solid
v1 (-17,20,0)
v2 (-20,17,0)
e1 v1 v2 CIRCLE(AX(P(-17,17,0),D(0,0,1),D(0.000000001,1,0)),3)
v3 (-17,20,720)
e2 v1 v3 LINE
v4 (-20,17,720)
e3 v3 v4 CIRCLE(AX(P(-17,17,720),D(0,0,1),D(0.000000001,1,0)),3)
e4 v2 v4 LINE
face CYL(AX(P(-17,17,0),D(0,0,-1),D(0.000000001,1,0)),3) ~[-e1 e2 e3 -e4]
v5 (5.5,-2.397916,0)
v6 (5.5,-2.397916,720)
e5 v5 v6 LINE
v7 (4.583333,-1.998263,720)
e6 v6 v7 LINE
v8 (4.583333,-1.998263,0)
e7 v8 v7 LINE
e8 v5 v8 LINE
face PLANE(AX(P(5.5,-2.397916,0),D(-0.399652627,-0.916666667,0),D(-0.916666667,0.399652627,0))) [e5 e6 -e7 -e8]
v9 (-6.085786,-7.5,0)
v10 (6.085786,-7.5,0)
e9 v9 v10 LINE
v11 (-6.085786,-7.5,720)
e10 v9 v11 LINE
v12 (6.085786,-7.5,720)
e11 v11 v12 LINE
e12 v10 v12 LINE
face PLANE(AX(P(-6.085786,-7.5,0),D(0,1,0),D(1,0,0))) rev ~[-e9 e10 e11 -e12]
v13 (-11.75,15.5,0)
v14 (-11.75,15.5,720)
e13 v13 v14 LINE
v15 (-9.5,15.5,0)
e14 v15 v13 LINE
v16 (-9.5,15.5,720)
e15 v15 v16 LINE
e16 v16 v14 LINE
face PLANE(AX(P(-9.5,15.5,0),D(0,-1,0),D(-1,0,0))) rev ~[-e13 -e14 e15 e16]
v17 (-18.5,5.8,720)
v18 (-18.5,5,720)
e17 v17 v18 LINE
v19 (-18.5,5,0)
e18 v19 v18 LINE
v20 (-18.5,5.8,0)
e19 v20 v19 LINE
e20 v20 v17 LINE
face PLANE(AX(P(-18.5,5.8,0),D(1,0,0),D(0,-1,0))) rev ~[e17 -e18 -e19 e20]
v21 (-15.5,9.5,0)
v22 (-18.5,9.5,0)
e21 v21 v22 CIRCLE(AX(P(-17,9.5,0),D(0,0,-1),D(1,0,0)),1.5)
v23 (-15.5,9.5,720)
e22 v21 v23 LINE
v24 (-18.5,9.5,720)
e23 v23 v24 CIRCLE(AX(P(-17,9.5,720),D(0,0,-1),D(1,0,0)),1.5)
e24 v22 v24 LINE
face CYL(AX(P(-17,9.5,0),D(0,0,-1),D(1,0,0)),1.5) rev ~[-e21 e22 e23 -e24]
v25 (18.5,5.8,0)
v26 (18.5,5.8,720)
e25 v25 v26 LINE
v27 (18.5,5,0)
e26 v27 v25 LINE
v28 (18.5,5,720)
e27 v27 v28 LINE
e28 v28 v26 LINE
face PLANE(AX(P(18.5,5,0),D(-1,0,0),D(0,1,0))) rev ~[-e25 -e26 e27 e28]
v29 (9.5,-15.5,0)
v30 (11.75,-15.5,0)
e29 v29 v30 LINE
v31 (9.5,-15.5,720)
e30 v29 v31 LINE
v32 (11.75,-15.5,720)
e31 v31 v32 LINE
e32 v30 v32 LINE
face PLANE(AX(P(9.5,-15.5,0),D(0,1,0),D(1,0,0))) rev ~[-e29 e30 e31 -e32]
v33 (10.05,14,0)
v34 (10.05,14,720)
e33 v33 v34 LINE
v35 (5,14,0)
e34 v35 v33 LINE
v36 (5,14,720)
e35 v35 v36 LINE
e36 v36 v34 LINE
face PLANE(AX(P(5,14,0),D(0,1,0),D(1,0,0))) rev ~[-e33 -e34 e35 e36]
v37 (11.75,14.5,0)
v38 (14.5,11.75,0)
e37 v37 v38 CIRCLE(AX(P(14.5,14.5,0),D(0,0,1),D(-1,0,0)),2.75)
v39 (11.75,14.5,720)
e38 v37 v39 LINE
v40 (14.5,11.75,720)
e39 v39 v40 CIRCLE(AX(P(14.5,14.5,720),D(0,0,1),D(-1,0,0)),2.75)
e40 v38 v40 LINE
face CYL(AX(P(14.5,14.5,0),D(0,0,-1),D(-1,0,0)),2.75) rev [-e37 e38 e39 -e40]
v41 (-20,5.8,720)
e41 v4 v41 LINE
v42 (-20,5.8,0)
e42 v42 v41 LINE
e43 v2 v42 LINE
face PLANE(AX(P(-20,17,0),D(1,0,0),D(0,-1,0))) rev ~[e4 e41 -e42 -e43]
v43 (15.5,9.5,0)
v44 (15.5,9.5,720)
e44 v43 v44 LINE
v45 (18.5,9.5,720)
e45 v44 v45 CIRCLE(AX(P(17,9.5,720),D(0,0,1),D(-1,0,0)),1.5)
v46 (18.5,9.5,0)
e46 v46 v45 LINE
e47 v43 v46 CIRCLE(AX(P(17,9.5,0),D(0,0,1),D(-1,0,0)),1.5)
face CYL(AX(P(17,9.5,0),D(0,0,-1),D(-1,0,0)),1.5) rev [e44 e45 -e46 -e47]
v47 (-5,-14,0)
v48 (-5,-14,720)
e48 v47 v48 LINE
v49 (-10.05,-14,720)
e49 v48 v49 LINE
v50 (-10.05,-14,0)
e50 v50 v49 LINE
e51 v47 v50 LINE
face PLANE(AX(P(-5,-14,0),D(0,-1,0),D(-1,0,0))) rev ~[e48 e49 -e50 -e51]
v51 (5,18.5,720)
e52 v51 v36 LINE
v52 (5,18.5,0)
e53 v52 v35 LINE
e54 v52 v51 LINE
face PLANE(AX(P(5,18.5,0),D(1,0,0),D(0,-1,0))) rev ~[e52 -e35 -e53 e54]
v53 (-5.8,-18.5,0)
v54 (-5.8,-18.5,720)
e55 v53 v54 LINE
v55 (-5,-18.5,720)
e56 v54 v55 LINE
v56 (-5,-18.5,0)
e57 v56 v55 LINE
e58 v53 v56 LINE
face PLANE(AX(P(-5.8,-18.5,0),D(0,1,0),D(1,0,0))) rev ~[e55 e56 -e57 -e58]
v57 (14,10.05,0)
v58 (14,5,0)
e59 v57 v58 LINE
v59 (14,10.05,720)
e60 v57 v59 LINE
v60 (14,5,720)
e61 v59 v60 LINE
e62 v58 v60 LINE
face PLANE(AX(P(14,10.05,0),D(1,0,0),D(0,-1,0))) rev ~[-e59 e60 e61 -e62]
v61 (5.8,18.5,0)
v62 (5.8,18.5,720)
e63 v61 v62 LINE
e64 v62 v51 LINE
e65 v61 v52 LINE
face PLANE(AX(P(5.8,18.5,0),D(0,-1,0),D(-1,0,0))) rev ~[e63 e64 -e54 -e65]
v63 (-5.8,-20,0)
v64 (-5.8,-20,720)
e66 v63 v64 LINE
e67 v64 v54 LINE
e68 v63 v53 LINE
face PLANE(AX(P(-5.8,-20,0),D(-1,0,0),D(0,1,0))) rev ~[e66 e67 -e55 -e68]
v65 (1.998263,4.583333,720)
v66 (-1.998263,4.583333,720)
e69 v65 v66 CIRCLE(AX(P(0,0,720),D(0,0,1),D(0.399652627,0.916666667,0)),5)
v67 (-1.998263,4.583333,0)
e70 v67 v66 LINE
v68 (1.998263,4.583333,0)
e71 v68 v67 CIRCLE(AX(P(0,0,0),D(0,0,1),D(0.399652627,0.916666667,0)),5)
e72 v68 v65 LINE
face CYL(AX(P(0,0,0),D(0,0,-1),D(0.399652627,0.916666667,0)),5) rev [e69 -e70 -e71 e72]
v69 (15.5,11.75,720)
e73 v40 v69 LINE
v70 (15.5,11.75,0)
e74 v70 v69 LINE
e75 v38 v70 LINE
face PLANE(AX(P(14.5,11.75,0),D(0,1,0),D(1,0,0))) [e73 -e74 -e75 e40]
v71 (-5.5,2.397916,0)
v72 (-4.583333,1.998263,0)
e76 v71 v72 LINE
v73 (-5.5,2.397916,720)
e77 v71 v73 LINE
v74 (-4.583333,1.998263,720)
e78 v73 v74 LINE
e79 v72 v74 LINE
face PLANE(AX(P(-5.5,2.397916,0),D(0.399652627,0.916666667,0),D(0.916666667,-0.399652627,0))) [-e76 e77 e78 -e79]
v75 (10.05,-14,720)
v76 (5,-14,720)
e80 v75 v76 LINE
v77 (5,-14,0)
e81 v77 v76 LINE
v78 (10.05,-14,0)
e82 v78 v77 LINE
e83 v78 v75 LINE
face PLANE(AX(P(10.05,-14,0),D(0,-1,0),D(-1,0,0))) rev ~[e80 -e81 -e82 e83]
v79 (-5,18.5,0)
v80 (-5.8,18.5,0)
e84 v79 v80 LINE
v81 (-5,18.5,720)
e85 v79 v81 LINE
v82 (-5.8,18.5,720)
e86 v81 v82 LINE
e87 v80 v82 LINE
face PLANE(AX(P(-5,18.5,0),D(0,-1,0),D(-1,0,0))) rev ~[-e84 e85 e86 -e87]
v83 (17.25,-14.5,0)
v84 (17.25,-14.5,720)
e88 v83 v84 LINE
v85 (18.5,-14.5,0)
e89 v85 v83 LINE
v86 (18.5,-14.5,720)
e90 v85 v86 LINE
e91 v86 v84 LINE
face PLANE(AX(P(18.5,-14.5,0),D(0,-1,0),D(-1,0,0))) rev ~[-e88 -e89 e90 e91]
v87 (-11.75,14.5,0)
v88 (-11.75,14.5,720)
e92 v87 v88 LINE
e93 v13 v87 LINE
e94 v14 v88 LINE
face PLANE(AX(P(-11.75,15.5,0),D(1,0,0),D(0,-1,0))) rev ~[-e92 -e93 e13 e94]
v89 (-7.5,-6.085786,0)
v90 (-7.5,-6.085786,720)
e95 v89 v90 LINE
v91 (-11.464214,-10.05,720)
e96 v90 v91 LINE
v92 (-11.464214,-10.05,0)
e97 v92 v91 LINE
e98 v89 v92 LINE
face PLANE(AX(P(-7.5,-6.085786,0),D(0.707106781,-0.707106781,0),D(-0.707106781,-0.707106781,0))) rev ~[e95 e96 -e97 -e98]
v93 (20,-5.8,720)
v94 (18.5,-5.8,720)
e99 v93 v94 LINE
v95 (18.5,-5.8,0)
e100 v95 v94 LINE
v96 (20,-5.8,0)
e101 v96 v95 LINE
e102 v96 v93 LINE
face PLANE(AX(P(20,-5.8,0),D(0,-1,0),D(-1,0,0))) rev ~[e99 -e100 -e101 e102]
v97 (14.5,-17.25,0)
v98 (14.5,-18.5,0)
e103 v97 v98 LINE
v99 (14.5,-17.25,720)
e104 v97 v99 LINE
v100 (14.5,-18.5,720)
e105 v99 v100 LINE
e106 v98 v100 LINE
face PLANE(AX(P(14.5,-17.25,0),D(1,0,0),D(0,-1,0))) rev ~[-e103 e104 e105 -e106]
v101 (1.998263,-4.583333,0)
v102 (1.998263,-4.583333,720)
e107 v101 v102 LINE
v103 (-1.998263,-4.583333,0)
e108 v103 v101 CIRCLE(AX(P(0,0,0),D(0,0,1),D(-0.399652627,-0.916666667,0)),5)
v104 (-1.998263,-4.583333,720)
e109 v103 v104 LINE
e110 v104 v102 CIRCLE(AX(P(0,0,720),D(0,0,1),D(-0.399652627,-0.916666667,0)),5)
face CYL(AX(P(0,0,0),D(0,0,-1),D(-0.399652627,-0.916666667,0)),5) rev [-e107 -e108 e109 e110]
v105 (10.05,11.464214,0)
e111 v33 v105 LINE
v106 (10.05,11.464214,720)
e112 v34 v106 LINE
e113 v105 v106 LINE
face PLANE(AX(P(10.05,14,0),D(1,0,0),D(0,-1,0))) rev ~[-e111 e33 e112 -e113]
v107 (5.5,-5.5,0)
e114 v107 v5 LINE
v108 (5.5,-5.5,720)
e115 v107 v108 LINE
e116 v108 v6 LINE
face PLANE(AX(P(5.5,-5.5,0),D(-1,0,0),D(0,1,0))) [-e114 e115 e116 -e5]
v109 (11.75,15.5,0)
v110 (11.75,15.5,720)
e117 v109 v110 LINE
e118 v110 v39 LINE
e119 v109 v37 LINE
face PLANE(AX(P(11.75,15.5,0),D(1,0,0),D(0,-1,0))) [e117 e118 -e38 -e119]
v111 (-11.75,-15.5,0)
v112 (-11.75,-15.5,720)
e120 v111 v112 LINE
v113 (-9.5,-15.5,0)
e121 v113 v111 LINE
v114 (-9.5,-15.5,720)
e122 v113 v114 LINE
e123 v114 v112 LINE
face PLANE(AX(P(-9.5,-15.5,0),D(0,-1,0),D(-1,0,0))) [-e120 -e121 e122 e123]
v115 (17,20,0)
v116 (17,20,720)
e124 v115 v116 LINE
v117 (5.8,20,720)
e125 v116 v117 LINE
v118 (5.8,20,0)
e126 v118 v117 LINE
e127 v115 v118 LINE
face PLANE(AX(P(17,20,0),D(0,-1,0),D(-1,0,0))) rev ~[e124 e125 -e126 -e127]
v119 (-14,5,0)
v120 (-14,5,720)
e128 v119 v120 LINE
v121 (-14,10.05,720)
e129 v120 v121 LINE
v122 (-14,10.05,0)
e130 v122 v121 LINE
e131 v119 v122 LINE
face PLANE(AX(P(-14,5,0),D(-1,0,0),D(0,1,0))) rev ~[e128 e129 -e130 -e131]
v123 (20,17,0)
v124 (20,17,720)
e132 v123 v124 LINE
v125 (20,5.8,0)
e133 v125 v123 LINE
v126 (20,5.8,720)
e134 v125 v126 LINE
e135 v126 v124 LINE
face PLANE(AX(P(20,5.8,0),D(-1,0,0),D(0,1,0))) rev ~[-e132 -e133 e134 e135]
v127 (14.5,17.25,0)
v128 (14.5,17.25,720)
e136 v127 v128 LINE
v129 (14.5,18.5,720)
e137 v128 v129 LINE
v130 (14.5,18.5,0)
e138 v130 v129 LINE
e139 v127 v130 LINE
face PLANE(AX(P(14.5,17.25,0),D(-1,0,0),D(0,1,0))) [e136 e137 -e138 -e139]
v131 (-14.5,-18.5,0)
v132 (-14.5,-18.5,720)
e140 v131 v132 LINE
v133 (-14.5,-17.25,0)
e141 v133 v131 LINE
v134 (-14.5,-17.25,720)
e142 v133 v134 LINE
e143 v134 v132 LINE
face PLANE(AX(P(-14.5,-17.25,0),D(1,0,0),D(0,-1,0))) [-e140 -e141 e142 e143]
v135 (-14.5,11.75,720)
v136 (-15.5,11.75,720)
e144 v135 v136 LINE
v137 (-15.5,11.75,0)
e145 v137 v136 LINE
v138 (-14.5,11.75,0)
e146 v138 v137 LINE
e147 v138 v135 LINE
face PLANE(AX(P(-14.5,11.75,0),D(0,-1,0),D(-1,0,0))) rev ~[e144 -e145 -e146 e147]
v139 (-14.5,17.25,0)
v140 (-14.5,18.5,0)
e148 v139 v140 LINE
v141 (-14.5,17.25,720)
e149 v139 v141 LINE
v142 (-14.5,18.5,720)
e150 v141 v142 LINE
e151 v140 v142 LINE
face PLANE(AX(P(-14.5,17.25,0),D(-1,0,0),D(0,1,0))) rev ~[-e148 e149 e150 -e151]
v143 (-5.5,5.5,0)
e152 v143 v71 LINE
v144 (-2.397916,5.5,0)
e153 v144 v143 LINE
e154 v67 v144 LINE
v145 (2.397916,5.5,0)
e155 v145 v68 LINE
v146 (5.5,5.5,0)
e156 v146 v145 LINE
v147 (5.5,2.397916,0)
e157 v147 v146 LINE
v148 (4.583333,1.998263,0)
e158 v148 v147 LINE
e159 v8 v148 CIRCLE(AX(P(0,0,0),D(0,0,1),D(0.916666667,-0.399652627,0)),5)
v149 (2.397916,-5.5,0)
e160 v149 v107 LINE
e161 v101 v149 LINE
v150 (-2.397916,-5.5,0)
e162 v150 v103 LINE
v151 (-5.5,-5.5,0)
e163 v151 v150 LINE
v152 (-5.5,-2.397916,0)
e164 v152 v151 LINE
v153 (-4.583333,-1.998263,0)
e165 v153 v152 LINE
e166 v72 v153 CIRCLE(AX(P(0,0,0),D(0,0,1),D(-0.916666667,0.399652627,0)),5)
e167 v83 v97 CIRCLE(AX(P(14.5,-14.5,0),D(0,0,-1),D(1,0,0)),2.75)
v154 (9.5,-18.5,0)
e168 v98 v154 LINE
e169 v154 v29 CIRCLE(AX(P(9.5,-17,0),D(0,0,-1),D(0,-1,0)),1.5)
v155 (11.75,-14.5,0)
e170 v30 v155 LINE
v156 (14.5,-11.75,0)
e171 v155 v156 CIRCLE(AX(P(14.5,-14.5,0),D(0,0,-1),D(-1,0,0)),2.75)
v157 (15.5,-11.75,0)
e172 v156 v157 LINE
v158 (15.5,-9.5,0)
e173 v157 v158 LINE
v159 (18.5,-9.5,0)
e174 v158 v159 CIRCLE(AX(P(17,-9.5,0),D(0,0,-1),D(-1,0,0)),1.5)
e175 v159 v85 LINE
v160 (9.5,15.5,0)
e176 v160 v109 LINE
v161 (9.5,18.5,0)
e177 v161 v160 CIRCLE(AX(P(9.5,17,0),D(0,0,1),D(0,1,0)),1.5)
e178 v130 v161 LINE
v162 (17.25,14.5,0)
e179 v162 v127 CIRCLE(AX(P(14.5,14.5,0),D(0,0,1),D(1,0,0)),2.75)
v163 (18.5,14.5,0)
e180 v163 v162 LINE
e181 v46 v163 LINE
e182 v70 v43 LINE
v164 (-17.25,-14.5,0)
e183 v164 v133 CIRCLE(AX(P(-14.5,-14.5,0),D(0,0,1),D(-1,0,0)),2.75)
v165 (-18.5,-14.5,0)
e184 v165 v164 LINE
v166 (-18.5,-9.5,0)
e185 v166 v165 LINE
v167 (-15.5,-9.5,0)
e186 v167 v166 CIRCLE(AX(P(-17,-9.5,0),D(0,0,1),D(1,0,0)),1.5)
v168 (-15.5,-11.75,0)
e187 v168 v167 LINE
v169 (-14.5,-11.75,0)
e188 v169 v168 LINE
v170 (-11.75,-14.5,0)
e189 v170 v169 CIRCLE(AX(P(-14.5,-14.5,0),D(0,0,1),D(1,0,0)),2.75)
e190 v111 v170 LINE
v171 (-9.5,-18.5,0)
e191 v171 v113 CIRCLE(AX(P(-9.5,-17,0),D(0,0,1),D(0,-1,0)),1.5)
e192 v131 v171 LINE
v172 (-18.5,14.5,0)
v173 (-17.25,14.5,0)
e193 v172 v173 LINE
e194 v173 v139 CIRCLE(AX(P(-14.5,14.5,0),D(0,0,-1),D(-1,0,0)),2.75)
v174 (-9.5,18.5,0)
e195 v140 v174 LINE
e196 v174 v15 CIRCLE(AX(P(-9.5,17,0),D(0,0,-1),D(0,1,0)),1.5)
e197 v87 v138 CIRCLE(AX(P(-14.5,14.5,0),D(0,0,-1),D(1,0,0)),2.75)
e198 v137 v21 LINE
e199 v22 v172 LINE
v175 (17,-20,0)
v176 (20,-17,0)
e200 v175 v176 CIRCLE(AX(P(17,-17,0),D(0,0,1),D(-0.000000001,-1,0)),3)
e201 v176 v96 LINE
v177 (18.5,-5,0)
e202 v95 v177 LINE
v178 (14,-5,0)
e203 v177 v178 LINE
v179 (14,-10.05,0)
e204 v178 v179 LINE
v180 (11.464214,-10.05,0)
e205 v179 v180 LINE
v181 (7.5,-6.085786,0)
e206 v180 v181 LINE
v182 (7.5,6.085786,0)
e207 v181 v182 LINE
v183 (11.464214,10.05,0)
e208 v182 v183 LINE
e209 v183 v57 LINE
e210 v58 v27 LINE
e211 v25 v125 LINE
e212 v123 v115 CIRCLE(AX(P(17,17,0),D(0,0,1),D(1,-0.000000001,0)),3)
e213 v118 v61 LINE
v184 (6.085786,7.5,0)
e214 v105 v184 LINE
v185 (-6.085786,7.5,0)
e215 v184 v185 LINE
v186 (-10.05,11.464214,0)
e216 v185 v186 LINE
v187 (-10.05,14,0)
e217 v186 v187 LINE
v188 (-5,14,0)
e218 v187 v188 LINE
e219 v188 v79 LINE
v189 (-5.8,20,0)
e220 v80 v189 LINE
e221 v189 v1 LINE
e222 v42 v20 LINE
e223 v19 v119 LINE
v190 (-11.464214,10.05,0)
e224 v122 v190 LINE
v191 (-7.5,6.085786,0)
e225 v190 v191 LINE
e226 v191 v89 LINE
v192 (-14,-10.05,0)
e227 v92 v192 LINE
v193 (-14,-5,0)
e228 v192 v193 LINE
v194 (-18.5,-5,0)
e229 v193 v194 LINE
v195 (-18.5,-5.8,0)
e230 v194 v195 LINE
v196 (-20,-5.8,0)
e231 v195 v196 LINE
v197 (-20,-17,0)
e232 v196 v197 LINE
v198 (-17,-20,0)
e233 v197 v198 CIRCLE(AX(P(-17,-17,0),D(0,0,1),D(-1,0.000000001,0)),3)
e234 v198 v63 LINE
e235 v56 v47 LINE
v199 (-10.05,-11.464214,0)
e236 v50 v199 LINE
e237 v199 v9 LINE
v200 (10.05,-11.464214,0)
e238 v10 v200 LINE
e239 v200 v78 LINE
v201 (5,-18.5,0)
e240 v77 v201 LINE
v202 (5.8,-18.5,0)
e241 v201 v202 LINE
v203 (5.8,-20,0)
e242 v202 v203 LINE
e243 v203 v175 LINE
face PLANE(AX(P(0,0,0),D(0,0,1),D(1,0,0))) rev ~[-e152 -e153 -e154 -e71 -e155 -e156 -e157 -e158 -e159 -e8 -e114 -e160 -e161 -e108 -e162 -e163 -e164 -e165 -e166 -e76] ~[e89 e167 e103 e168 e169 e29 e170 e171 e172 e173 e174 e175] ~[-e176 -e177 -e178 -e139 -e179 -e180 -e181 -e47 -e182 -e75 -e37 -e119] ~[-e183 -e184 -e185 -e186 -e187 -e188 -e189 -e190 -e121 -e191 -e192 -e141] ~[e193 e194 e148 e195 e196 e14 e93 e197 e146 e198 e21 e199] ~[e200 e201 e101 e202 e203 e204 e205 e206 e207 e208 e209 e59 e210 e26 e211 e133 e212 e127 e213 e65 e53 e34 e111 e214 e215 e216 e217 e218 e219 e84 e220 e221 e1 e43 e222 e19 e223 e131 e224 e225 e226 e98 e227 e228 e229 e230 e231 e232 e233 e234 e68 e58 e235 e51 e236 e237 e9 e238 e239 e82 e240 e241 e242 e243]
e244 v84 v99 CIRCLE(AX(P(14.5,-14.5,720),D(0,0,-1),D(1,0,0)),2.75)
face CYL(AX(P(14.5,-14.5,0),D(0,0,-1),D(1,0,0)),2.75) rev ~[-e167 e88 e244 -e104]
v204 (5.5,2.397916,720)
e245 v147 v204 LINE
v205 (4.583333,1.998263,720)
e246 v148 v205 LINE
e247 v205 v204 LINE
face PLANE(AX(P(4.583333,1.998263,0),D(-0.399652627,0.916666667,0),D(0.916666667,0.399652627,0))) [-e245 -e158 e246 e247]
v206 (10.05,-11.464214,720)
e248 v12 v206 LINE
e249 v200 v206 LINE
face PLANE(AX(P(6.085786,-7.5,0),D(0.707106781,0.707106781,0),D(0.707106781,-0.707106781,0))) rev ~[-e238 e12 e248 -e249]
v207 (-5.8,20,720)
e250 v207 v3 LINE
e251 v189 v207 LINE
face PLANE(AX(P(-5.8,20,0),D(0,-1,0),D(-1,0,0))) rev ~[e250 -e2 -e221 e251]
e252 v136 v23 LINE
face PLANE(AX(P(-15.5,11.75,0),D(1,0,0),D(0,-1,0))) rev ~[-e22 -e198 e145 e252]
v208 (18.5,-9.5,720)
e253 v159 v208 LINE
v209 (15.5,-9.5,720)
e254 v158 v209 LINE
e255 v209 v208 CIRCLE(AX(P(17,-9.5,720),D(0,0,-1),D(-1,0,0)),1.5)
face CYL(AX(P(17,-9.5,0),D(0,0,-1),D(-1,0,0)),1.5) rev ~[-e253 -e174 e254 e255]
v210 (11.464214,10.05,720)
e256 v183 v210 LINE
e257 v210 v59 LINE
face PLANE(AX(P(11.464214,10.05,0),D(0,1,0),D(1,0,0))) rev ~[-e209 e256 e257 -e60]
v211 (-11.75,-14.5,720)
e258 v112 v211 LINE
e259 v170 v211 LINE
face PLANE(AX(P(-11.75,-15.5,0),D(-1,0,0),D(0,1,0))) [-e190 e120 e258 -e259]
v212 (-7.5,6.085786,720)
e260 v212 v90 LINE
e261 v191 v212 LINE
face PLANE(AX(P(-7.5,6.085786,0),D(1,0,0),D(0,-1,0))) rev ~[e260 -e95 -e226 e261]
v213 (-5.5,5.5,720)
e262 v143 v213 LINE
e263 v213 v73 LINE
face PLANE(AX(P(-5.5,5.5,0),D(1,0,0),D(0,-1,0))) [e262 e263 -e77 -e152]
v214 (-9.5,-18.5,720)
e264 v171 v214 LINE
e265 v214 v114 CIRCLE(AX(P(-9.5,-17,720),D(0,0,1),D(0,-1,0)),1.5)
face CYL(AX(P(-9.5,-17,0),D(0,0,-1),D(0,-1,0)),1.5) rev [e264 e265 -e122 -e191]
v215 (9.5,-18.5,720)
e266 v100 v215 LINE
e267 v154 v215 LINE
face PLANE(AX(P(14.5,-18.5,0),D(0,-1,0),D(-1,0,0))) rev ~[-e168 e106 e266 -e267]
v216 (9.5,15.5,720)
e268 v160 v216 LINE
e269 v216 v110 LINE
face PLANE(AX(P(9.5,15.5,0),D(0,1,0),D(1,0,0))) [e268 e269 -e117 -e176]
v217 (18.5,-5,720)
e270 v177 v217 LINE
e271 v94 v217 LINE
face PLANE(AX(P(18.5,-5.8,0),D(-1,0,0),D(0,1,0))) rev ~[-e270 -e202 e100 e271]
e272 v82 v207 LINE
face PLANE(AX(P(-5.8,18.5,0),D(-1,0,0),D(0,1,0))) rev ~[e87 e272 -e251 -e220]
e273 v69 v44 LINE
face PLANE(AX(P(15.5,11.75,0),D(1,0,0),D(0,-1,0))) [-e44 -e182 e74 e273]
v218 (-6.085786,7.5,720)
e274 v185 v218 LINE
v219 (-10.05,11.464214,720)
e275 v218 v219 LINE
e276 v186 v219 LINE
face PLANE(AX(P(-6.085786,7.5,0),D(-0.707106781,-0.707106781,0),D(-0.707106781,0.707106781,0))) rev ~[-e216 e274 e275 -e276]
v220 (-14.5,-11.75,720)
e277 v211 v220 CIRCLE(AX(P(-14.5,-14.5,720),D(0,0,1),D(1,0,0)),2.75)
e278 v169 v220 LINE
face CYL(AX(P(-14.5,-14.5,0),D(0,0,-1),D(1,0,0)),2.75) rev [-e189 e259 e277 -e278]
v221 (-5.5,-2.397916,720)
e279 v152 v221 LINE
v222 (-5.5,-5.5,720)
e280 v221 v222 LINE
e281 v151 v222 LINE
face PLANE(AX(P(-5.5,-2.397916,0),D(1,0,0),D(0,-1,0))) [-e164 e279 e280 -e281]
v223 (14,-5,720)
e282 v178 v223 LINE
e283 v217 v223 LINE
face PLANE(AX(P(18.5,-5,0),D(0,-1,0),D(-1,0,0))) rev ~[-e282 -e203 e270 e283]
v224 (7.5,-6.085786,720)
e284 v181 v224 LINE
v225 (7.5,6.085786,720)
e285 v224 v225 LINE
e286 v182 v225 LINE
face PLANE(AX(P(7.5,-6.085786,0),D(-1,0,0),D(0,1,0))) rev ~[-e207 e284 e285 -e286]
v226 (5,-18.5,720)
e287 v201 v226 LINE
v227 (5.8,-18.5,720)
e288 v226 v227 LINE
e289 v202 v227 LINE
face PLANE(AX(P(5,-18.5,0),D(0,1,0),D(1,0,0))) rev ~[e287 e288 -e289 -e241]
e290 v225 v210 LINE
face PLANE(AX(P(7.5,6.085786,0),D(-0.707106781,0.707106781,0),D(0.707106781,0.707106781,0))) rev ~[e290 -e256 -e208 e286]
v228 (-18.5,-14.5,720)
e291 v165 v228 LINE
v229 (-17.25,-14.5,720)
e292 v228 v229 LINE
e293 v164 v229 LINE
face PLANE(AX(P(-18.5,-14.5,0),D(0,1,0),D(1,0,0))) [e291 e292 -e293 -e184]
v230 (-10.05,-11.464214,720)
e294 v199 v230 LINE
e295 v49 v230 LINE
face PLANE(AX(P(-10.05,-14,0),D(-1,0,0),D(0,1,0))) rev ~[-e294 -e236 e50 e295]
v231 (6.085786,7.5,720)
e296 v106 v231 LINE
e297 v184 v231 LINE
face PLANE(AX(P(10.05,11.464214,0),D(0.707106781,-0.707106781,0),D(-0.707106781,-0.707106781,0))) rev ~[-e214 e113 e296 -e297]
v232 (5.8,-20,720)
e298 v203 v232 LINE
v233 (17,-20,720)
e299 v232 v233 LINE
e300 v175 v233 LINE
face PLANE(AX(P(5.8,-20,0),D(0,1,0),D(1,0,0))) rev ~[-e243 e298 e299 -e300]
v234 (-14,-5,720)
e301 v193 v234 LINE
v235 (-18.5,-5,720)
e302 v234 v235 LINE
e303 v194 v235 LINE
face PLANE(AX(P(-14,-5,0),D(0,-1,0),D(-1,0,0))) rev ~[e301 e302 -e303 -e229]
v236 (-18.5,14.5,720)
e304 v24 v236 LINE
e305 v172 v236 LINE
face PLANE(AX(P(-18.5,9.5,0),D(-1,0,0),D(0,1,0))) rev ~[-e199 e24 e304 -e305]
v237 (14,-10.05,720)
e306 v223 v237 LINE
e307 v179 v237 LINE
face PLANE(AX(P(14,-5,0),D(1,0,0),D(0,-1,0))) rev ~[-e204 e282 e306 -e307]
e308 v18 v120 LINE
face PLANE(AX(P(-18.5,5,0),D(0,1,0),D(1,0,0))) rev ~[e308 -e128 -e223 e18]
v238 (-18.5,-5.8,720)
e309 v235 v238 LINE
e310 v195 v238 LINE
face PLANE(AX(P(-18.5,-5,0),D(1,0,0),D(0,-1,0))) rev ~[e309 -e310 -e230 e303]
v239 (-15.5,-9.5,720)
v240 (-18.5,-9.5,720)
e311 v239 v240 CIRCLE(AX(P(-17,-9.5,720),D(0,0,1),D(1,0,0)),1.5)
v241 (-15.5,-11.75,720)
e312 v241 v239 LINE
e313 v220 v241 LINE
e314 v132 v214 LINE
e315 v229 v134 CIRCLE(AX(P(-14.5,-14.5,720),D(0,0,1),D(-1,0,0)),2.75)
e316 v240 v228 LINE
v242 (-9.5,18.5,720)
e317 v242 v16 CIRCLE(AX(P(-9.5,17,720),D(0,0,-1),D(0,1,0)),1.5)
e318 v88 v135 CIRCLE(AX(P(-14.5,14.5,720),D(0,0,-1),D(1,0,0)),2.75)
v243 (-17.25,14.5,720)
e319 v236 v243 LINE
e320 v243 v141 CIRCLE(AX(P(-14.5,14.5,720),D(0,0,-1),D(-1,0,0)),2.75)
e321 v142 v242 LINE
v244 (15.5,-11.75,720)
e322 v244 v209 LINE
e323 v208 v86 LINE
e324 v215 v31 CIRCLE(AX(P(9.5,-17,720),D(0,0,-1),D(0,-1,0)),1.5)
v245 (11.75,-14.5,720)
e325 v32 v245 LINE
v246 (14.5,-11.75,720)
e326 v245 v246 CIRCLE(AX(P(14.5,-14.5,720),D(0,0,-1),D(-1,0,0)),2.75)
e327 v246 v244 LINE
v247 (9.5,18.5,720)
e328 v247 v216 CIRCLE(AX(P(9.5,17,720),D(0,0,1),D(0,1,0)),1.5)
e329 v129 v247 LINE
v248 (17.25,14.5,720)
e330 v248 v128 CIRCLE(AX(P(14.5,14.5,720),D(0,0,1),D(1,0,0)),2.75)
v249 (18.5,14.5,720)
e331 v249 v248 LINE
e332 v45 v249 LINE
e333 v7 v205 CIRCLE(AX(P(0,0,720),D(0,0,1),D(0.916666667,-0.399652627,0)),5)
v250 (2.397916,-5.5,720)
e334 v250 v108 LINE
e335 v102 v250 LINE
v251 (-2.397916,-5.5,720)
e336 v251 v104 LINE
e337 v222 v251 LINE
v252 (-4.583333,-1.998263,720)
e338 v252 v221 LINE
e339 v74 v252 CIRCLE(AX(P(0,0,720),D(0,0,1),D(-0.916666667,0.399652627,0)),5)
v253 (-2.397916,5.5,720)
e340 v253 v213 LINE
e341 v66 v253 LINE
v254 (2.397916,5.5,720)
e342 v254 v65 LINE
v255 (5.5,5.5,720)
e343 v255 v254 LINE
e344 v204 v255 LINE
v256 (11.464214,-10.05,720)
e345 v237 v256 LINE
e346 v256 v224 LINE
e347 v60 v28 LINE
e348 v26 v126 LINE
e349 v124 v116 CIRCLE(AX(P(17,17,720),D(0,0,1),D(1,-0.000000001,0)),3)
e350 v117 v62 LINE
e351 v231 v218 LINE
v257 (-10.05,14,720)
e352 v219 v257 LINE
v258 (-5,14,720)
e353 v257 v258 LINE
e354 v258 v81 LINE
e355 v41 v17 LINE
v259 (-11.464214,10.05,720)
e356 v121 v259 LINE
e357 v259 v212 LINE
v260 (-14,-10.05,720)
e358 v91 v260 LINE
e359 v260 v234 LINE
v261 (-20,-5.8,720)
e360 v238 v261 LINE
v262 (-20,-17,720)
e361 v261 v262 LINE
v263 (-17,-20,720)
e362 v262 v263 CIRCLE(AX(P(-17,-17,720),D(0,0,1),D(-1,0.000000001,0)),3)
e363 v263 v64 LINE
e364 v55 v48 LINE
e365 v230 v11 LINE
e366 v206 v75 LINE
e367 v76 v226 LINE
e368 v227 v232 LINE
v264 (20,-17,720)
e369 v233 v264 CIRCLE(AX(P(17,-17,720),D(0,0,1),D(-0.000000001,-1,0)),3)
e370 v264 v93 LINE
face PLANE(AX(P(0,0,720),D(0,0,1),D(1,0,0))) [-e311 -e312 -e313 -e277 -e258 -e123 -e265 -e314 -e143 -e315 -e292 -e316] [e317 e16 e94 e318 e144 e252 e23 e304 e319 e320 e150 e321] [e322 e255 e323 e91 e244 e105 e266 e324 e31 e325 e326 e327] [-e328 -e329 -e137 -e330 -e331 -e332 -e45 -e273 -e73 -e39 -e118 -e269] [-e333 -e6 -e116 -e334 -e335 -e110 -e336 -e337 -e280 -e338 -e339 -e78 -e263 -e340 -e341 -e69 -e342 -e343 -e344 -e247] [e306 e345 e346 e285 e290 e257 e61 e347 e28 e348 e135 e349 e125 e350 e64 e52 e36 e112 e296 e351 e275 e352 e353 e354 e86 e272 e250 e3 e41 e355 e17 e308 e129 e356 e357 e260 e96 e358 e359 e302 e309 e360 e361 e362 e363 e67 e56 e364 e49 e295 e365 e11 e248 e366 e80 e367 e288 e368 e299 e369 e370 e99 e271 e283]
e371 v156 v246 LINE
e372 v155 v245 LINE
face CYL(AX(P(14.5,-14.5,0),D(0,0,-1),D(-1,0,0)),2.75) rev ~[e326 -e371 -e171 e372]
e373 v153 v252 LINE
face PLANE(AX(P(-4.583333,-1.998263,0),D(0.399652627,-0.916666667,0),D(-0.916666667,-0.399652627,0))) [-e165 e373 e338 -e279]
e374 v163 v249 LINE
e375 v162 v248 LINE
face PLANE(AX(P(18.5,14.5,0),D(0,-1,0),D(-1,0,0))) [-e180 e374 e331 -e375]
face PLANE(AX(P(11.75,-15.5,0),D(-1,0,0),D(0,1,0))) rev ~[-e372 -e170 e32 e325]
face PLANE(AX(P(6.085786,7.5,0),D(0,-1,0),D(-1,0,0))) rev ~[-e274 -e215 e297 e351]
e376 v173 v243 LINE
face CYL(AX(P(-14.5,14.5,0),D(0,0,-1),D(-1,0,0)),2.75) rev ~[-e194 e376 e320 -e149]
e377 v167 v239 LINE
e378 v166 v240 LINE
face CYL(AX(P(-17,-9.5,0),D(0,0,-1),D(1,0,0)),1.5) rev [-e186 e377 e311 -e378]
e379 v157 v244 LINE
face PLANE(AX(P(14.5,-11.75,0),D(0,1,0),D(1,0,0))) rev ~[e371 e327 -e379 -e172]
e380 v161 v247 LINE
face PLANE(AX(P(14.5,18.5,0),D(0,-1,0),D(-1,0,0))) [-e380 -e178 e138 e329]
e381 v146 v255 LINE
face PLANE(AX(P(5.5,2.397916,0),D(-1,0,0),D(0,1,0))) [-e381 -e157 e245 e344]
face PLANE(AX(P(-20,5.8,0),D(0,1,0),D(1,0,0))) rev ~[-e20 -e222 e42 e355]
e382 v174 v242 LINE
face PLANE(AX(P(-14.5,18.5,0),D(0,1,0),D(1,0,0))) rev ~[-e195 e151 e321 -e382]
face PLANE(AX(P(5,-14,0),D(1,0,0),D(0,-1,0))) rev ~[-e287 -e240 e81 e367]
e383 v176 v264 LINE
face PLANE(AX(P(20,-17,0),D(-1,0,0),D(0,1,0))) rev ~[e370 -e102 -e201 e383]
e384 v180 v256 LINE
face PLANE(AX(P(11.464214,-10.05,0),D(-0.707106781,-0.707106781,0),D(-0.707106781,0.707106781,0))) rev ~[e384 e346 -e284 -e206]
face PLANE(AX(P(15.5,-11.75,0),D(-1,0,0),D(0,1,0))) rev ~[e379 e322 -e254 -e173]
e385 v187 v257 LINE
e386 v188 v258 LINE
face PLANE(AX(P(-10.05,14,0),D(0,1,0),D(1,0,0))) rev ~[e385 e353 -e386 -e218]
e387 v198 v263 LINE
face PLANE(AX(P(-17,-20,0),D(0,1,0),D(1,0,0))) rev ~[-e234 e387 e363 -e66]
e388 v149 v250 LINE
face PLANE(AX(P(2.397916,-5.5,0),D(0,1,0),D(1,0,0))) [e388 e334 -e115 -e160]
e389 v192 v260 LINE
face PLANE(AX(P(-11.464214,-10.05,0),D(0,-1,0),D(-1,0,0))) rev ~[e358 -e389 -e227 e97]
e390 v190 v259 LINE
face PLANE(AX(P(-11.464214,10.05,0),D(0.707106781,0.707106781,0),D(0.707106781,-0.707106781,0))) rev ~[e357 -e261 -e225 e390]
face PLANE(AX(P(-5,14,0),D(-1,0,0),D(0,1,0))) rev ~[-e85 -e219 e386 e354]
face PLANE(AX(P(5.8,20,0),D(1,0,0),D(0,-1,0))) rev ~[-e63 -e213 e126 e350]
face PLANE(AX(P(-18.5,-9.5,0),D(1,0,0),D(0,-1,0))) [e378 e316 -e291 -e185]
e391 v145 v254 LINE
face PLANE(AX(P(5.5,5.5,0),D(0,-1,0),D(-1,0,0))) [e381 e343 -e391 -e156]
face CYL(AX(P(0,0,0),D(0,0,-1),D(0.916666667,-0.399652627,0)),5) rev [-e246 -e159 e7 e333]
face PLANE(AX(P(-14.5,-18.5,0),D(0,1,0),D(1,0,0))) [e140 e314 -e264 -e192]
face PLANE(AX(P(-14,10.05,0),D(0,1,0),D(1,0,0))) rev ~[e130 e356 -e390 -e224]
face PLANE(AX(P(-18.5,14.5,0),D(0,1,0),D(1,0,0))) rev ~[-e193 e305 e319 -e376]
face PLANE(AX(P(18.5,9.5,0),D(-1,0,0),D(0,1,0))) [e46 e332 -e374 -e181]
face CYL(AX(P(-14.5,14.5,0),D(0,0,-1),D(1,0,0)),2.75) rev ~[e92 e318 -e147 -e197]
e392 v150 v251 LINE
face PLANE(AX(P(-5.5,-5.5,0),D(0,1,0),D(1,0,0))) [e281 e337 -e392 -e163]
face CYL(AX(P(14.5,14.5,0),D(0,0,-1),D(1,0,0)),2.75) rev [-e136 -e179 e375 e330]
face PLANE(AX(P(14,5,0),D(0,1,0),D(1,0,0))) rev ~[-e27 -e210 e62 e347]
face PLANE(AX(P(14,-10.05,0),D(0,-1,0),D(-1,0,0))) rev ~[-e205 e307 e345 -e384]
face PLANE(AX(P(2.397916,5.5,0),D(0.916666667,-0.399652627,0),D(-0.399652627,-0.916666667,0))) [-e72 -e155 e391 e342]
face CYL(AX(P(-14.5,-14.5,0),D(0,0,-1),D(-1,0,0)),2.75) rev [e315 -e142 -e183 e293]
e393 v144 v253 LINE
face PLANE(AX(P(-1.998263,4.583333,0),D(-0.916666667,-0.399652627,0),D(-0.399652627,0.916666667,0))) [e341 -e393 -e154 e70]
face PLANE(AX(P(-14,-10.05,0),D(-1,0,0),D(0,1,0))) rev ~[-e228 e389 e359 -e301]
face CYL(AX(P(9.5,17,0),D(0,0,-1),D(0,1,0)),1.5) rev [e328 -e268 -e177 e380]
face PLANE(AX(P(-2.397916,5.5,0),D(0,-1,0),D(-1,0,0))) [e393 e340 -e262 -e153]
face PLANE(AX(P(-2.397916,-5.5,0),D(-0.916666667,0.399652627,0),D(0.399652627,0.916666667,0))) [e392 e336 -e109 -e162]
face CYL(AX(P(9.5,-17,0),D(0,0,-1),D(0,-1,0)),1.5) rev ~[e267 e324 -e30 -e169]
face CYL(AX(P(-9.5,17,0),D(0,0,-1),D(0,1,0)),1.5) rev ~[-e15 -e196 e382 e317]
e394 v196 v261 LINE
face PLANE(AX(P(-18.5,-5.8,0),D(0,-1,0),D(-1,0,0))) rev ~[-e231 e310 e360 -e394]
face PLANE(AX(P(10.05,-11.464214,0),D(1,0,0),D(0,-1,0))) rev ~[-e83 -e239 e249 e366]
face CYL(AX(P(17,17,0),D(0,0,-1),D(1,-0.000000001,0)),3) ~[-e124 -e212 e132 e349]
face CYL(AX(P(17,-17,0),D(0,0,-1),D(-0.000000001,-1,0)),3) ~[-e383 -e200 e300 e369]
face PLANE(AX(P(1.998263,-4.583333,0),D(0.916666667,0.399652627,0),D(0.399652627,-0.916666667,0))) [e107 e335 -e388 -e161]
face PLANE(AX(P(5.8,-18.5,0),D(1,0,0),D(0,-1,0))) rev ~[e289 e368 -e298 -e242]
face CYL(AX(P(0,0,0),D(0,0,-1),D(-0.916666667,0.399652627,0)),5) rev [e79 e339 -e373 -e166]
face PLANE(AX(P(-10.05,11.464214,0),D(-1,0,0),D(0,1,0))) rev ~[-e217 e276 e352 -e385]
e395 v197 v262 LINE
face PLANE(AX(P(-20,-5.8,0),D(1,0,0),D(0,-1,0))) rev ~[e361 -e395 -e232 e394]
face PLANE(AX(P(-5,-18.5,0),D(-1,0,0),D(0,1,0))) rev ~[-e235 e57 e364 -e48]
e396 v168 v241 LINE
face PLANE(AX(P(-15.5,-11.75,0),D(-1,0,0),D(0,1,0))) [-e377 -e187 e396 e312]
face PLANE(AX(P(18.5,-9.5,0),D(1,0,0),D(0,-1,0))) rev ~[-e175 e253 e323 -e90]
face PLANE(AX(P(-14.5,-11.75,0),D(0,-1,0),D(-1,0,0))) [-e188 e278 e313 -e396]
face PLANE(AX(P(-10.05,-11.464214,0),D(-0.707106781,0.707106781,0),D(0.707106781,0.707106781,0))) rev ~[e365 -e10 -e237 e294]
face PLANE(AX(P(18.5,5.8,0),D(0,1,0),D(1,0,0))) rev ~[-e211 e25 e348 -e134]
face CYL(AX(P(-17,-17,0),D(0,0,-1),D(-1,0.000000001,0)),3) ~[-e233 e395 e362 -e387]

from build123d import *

# Parameters (mm, degrees)
EXTRUDE1_DEPTH = 720


with BuildPart() as part:
    # Sketch1 → Extrude1 (new body)
    with BuildSketch(Plane.XY):
        with BuildLine():
            Line((5.8, -20), (17, -20))
            ThreePointArc((17, -20), (19.121320344, -19.121320344), (20, -17))
            Line((20, -17), (20, -5.8))
            Line((20, -5.8), (18.5, -5.8))
            Line((18.5, -5.8), (18.5, -5))
            Line((18.5, -5), (14, -5))
            Line((14, -5), (14, -10.05))
            Line((14, -10.05), (11.464213562, -10.05))
            Line((11.464213562, -10.05), (7.5, -6.085786438))
            Line((7.5, -6.085786438), (7.5, 6.085786438))
            Line((7.5, 6.085786438), (11.464213562, 10.05))
            Line((11.464213562, 10.05), (14, 10.05))
            Line((14, 10.05), (14, 5))
            Line((14, 5), (18.5, 5))
            Line((18.5, 5), (18.5, 5.8))
            Line((18.5, 5.8), (20, 5.8))
            Line((20, 5.8), (20, 17))
            ThreePointArc((20, 17), (19.121320344, 19.121320344), (17, 20))
            Line((17, 20), (5.8, 20))
            Line((5.8, 20), (5.8, 18.5))
            Line((5.8, 18.5), (5, 18.5))
            Line((5, 18.5), (5, 14))
            Line((5, 14), (10.05, 14))
            Line((10.05, 14), (10.05, 11.464213562))
            Line((10.05, 11.464213562), (6.085786438, 7.5))
            Line((6.085786438, 7.5), (-6.085786438, 7.5))
            Line((-6.085786438, 7.5), (-10.05, 11.464213562))
            Line((-10.05, 11.464213562), (-10.05, 14))
            Line((-10.05, 14), (-5, 14))
            Line((-5, 14), (-5, 18.5))
            Line((-5, 18.5), (-5.8, 18.5))
            Line((-5.8, 18.5), (-5.8, 20))
            Line((-5.8, 20), (-17, 20))
            ThreePointArc((-17, 20), (-19.121320344, 19.121320344), (-20, 17))
            Line((-20, 17), (-20, 5.8))
            Line((-20, 5.8), (-18.5, 5.8))
            Line((-18.5, 5.8), (-18.5, 5))
            Line((-18.5, 5), (-14, 5))
            Line((-14, 5), (-14, 10.05))
            Line((-14, 10.05), (-11.464213562, 10.05))
            Line((-11.464213562, 10.05), (-7.5, 6.085786438))
            Line((-7.5, 6.085786438), (-7.5, -6.085786438))
            Line((-7.5, -6.085786438), (-11.464213562, -10.05))
            Line((-11.464213562, -10.05), (-14, -10.05))
            Line((-14, -10.05), (-14, -5))
            Line((-14, -5), (-18.5, -5))
            Line((-18.5, -5), (-18.5, -5.8))
            Line((-18.5, -5.8), (-20, -5.8))
            Line((-20, -5.8), (-20, -17))
            ThreePointArc((-20, -17), (-19.121320344, -19.121320344), (-17, -20))
            Line((-17, -20), (-5.8, -20))
            Line((-5.8, -20), (-5.8, -18.5))
            Line((-5.8, -18.5), (-5, -18.5))
            Line((-5, -18.5), (-5, -14))
            Line((-5, -14), (-10.05, -14))
            Line((-10.05, -14), (-10.05, -11.464213562))
            Line((-10.05, -11.464213562), (-6.085786438, -7.5))
            Line((-6.085786438, -7.5), (6.085786438, -7.5))
            Line((6.085786438, -7.5), (10.05, -11.464213562))
            Line((10.05, -11.464213562), (10.05, -14))
            Line((10.05, -14), (5, -14))
            Line((5, -14), (5, -18.5))
            Line((5, -18.5), (5.8, -18.5))
            Line((5.8, -18.5), (5.8, -20))
        make_face()
        with BuildLine():
            Line((14.5, -18.5), (9.5, -18.5))
            ThreePointArc((9.5, -18.5), (8, -17), (9.5, -15.5))
            Line((9.5, -15.5), (11.75, -15.5))
            Line((11.75, -15.5), (11.75, -14.5))
            ThreePointArc((11.75, -14.5), (12.555456352, -12.555456352), (14.5, -11.75))
            Line((14.5, -11.75), (15.5, -11.75))
            Line((15.5, -11.75), (15.5, -9.5))
            ThreePointArc((15.5, -9.5), (17, -8), (18.5, -9.5))
            Line((18.5, -9.5), (18.5, -14.5))
            Line((18.5, -14.5), (17.25, -14.5))
            ThreePointArc((17.25, -14.5), (16.444543648, -16.444543648), (14.5, -17.25))
            Line((14.5, -17.25), (14.5, -18.5))
        make_face(mode=Mode.SUBTRACT)
        with BuildLine():
            Line((18.5, 14.5), (17.25, 14.5))
            ThreePointArc((17.25, 14.5), (16.444543648, 16.444543648), (14.5, 17.25))
            Line((14.5, 17.25), (14.5, 18.5))
            Line((14.5, 18.5), (9.5, 18.5))
            ThreePointArc((9.5, 18.5), (8, 17), (9.5, 15.5))
            Line((9.5, 15.5), (11.75, 15.5))
            Line((11.75, 15.5), (11.75, 14.5))
            ThreePointArc((11.75, 14.5), (12.555456352, 12.555456352), (14.5, 11.75))
            Line((14.5, 11.75), (15.5, 11.75))
            Line((15.5, 11.75), (15.5, 9.5))
            ThreePointArc((15.5, 9.5), (17, 8), (18.5, 9.5))
            Line((18.5, 9.5), (18.5, 14.5))
        make_face(mode=Mode.SUBTRACT)
        with BuildLine():
            Line((5.5, 5.5), (2.397915762, 5.5))
            Line((2.397915762, 5.5), (1.998263135, 4.583333333))
            ThreePointArc((1.998263135, 4.583333333), (0, 5), (-1.998263135, 4.583333333))
            Line((-1.998263135, 4.583333333), (-2.397915762, 5.5))
            Line((-2.397915762, 5.5), (-5.5, 5.5))
            Line((-5.5, 5.5), (-5.5, 2.397915762))
            Line((-5.5, 2.397915762), (-4.583333333, 1.998263135))
            ThreePointArc((-4.583333333, 1.998263135), (-5, 0), (-4.583333333, -1.998263135))
            Line((-4.583333333, -1.998263135), (-5.5, -2.397915762))
            Line((-5.5, -2.397915762), (-5.5, -5.5))
            Line((-5.5, -5.5), (-2.397915762, -5.5))
            Line((-2.397915762, -5.5), (-1.998263135, -4.583333333))
            ThreePointArc((-1.998263135, -4.583333333), (0, -5), (1.998263135, -4.583333333))
            Line((1.998263135, -4.583333333), (2.397915762, -5.5))
            Line((2.397915762, -5.5), (5.5, -5.5))
            Line((5.5, -5.5), (5.5, -2.397915762))
            Line((5.5, -2.397915762), (4.583333333, -1.998263135))
            ThreePointArc((4.583333333, -1.998263135), (5, 0), (4.583333333, 1.998263135))
            Line((4.583333333, 1.998263135), (5.5, 2.397915762))
            Line((5.5, 2.397915762), (5.5, 5.5))
        make_face(mode=Mode.SUBTRACT)
        with BuildLine():
            Line((-18.5, -14.5), (-17.25, -14.5))
            ThreePointArc((-17.25, -14.5), (-16.444543648, -16.444543648), (-14.5, -17.25))
            Line((-14.5, -17.25), (-14.5, -18.5))
            Line((-14.5, -18.5), (-9.5, -18.5))
            ThreePointArc((-9.5, -18.5), (-8, -17), (-9.5, -15.5))
            Line((-9.5, -15.5), (-11.75, -15.5))
            Line((-11.75, -15.5), (-11.75, -14.5))
            ThreePointArc((-11.75, -14.5), (-12.555456352, -12.555456352), (-14.5, -11.75))
            Line((-14.5, -11.75), (-15.5, -11.75))
            Line((-15.5, -11.75), (-15.5, -9.5))
            ThreePointArc((-15.5, -9.5), (-17, -8), (-18.5, -9.5))
            Line((-18.5, -9.5), (-18.5, -14.5))
        make_face(mode=Mode.SUBTRACT)
        with BuildLine():
            Line((-14.5, 18.5), (-9.5, 18.5))
            ThreePointArc((-9.5, 18.5), (-8, 17), (-9.5, 15.5))
            Line((-9.5, 15.5), (-11.75, 15.5))
            Line((-11.75, 15.5), (-11.75, 14.5))
            ThreePointArc((-11.75, 14.5), (-12.555456352, 12.555456352), (-14.5, 11.75))
            Line((-14.5, 11.75), (-15.5, 11.75))
            Line((-15.5, 11.75), (-15.5, 9.5))
            ThreePointArc((-15.5, 9.5), (-17, 8), (-18.5, 9.5))
            Line((-18.5, 9.5), (-18.5, 14.5))
            Line((-18.5, 14.5), (-17.25, 14.5))
            ThreePointArc((-17.25, 14.5), (-16.444543648, 16.444543648), (-14.5, 17.25))
            Line((-14.5, 17.25), (-14.5, 18.5))
        make_face(mode=Mode.SUBTRACT)
    extrude(amount=EXTRUDE1_DEPTH)


solid = part.part
